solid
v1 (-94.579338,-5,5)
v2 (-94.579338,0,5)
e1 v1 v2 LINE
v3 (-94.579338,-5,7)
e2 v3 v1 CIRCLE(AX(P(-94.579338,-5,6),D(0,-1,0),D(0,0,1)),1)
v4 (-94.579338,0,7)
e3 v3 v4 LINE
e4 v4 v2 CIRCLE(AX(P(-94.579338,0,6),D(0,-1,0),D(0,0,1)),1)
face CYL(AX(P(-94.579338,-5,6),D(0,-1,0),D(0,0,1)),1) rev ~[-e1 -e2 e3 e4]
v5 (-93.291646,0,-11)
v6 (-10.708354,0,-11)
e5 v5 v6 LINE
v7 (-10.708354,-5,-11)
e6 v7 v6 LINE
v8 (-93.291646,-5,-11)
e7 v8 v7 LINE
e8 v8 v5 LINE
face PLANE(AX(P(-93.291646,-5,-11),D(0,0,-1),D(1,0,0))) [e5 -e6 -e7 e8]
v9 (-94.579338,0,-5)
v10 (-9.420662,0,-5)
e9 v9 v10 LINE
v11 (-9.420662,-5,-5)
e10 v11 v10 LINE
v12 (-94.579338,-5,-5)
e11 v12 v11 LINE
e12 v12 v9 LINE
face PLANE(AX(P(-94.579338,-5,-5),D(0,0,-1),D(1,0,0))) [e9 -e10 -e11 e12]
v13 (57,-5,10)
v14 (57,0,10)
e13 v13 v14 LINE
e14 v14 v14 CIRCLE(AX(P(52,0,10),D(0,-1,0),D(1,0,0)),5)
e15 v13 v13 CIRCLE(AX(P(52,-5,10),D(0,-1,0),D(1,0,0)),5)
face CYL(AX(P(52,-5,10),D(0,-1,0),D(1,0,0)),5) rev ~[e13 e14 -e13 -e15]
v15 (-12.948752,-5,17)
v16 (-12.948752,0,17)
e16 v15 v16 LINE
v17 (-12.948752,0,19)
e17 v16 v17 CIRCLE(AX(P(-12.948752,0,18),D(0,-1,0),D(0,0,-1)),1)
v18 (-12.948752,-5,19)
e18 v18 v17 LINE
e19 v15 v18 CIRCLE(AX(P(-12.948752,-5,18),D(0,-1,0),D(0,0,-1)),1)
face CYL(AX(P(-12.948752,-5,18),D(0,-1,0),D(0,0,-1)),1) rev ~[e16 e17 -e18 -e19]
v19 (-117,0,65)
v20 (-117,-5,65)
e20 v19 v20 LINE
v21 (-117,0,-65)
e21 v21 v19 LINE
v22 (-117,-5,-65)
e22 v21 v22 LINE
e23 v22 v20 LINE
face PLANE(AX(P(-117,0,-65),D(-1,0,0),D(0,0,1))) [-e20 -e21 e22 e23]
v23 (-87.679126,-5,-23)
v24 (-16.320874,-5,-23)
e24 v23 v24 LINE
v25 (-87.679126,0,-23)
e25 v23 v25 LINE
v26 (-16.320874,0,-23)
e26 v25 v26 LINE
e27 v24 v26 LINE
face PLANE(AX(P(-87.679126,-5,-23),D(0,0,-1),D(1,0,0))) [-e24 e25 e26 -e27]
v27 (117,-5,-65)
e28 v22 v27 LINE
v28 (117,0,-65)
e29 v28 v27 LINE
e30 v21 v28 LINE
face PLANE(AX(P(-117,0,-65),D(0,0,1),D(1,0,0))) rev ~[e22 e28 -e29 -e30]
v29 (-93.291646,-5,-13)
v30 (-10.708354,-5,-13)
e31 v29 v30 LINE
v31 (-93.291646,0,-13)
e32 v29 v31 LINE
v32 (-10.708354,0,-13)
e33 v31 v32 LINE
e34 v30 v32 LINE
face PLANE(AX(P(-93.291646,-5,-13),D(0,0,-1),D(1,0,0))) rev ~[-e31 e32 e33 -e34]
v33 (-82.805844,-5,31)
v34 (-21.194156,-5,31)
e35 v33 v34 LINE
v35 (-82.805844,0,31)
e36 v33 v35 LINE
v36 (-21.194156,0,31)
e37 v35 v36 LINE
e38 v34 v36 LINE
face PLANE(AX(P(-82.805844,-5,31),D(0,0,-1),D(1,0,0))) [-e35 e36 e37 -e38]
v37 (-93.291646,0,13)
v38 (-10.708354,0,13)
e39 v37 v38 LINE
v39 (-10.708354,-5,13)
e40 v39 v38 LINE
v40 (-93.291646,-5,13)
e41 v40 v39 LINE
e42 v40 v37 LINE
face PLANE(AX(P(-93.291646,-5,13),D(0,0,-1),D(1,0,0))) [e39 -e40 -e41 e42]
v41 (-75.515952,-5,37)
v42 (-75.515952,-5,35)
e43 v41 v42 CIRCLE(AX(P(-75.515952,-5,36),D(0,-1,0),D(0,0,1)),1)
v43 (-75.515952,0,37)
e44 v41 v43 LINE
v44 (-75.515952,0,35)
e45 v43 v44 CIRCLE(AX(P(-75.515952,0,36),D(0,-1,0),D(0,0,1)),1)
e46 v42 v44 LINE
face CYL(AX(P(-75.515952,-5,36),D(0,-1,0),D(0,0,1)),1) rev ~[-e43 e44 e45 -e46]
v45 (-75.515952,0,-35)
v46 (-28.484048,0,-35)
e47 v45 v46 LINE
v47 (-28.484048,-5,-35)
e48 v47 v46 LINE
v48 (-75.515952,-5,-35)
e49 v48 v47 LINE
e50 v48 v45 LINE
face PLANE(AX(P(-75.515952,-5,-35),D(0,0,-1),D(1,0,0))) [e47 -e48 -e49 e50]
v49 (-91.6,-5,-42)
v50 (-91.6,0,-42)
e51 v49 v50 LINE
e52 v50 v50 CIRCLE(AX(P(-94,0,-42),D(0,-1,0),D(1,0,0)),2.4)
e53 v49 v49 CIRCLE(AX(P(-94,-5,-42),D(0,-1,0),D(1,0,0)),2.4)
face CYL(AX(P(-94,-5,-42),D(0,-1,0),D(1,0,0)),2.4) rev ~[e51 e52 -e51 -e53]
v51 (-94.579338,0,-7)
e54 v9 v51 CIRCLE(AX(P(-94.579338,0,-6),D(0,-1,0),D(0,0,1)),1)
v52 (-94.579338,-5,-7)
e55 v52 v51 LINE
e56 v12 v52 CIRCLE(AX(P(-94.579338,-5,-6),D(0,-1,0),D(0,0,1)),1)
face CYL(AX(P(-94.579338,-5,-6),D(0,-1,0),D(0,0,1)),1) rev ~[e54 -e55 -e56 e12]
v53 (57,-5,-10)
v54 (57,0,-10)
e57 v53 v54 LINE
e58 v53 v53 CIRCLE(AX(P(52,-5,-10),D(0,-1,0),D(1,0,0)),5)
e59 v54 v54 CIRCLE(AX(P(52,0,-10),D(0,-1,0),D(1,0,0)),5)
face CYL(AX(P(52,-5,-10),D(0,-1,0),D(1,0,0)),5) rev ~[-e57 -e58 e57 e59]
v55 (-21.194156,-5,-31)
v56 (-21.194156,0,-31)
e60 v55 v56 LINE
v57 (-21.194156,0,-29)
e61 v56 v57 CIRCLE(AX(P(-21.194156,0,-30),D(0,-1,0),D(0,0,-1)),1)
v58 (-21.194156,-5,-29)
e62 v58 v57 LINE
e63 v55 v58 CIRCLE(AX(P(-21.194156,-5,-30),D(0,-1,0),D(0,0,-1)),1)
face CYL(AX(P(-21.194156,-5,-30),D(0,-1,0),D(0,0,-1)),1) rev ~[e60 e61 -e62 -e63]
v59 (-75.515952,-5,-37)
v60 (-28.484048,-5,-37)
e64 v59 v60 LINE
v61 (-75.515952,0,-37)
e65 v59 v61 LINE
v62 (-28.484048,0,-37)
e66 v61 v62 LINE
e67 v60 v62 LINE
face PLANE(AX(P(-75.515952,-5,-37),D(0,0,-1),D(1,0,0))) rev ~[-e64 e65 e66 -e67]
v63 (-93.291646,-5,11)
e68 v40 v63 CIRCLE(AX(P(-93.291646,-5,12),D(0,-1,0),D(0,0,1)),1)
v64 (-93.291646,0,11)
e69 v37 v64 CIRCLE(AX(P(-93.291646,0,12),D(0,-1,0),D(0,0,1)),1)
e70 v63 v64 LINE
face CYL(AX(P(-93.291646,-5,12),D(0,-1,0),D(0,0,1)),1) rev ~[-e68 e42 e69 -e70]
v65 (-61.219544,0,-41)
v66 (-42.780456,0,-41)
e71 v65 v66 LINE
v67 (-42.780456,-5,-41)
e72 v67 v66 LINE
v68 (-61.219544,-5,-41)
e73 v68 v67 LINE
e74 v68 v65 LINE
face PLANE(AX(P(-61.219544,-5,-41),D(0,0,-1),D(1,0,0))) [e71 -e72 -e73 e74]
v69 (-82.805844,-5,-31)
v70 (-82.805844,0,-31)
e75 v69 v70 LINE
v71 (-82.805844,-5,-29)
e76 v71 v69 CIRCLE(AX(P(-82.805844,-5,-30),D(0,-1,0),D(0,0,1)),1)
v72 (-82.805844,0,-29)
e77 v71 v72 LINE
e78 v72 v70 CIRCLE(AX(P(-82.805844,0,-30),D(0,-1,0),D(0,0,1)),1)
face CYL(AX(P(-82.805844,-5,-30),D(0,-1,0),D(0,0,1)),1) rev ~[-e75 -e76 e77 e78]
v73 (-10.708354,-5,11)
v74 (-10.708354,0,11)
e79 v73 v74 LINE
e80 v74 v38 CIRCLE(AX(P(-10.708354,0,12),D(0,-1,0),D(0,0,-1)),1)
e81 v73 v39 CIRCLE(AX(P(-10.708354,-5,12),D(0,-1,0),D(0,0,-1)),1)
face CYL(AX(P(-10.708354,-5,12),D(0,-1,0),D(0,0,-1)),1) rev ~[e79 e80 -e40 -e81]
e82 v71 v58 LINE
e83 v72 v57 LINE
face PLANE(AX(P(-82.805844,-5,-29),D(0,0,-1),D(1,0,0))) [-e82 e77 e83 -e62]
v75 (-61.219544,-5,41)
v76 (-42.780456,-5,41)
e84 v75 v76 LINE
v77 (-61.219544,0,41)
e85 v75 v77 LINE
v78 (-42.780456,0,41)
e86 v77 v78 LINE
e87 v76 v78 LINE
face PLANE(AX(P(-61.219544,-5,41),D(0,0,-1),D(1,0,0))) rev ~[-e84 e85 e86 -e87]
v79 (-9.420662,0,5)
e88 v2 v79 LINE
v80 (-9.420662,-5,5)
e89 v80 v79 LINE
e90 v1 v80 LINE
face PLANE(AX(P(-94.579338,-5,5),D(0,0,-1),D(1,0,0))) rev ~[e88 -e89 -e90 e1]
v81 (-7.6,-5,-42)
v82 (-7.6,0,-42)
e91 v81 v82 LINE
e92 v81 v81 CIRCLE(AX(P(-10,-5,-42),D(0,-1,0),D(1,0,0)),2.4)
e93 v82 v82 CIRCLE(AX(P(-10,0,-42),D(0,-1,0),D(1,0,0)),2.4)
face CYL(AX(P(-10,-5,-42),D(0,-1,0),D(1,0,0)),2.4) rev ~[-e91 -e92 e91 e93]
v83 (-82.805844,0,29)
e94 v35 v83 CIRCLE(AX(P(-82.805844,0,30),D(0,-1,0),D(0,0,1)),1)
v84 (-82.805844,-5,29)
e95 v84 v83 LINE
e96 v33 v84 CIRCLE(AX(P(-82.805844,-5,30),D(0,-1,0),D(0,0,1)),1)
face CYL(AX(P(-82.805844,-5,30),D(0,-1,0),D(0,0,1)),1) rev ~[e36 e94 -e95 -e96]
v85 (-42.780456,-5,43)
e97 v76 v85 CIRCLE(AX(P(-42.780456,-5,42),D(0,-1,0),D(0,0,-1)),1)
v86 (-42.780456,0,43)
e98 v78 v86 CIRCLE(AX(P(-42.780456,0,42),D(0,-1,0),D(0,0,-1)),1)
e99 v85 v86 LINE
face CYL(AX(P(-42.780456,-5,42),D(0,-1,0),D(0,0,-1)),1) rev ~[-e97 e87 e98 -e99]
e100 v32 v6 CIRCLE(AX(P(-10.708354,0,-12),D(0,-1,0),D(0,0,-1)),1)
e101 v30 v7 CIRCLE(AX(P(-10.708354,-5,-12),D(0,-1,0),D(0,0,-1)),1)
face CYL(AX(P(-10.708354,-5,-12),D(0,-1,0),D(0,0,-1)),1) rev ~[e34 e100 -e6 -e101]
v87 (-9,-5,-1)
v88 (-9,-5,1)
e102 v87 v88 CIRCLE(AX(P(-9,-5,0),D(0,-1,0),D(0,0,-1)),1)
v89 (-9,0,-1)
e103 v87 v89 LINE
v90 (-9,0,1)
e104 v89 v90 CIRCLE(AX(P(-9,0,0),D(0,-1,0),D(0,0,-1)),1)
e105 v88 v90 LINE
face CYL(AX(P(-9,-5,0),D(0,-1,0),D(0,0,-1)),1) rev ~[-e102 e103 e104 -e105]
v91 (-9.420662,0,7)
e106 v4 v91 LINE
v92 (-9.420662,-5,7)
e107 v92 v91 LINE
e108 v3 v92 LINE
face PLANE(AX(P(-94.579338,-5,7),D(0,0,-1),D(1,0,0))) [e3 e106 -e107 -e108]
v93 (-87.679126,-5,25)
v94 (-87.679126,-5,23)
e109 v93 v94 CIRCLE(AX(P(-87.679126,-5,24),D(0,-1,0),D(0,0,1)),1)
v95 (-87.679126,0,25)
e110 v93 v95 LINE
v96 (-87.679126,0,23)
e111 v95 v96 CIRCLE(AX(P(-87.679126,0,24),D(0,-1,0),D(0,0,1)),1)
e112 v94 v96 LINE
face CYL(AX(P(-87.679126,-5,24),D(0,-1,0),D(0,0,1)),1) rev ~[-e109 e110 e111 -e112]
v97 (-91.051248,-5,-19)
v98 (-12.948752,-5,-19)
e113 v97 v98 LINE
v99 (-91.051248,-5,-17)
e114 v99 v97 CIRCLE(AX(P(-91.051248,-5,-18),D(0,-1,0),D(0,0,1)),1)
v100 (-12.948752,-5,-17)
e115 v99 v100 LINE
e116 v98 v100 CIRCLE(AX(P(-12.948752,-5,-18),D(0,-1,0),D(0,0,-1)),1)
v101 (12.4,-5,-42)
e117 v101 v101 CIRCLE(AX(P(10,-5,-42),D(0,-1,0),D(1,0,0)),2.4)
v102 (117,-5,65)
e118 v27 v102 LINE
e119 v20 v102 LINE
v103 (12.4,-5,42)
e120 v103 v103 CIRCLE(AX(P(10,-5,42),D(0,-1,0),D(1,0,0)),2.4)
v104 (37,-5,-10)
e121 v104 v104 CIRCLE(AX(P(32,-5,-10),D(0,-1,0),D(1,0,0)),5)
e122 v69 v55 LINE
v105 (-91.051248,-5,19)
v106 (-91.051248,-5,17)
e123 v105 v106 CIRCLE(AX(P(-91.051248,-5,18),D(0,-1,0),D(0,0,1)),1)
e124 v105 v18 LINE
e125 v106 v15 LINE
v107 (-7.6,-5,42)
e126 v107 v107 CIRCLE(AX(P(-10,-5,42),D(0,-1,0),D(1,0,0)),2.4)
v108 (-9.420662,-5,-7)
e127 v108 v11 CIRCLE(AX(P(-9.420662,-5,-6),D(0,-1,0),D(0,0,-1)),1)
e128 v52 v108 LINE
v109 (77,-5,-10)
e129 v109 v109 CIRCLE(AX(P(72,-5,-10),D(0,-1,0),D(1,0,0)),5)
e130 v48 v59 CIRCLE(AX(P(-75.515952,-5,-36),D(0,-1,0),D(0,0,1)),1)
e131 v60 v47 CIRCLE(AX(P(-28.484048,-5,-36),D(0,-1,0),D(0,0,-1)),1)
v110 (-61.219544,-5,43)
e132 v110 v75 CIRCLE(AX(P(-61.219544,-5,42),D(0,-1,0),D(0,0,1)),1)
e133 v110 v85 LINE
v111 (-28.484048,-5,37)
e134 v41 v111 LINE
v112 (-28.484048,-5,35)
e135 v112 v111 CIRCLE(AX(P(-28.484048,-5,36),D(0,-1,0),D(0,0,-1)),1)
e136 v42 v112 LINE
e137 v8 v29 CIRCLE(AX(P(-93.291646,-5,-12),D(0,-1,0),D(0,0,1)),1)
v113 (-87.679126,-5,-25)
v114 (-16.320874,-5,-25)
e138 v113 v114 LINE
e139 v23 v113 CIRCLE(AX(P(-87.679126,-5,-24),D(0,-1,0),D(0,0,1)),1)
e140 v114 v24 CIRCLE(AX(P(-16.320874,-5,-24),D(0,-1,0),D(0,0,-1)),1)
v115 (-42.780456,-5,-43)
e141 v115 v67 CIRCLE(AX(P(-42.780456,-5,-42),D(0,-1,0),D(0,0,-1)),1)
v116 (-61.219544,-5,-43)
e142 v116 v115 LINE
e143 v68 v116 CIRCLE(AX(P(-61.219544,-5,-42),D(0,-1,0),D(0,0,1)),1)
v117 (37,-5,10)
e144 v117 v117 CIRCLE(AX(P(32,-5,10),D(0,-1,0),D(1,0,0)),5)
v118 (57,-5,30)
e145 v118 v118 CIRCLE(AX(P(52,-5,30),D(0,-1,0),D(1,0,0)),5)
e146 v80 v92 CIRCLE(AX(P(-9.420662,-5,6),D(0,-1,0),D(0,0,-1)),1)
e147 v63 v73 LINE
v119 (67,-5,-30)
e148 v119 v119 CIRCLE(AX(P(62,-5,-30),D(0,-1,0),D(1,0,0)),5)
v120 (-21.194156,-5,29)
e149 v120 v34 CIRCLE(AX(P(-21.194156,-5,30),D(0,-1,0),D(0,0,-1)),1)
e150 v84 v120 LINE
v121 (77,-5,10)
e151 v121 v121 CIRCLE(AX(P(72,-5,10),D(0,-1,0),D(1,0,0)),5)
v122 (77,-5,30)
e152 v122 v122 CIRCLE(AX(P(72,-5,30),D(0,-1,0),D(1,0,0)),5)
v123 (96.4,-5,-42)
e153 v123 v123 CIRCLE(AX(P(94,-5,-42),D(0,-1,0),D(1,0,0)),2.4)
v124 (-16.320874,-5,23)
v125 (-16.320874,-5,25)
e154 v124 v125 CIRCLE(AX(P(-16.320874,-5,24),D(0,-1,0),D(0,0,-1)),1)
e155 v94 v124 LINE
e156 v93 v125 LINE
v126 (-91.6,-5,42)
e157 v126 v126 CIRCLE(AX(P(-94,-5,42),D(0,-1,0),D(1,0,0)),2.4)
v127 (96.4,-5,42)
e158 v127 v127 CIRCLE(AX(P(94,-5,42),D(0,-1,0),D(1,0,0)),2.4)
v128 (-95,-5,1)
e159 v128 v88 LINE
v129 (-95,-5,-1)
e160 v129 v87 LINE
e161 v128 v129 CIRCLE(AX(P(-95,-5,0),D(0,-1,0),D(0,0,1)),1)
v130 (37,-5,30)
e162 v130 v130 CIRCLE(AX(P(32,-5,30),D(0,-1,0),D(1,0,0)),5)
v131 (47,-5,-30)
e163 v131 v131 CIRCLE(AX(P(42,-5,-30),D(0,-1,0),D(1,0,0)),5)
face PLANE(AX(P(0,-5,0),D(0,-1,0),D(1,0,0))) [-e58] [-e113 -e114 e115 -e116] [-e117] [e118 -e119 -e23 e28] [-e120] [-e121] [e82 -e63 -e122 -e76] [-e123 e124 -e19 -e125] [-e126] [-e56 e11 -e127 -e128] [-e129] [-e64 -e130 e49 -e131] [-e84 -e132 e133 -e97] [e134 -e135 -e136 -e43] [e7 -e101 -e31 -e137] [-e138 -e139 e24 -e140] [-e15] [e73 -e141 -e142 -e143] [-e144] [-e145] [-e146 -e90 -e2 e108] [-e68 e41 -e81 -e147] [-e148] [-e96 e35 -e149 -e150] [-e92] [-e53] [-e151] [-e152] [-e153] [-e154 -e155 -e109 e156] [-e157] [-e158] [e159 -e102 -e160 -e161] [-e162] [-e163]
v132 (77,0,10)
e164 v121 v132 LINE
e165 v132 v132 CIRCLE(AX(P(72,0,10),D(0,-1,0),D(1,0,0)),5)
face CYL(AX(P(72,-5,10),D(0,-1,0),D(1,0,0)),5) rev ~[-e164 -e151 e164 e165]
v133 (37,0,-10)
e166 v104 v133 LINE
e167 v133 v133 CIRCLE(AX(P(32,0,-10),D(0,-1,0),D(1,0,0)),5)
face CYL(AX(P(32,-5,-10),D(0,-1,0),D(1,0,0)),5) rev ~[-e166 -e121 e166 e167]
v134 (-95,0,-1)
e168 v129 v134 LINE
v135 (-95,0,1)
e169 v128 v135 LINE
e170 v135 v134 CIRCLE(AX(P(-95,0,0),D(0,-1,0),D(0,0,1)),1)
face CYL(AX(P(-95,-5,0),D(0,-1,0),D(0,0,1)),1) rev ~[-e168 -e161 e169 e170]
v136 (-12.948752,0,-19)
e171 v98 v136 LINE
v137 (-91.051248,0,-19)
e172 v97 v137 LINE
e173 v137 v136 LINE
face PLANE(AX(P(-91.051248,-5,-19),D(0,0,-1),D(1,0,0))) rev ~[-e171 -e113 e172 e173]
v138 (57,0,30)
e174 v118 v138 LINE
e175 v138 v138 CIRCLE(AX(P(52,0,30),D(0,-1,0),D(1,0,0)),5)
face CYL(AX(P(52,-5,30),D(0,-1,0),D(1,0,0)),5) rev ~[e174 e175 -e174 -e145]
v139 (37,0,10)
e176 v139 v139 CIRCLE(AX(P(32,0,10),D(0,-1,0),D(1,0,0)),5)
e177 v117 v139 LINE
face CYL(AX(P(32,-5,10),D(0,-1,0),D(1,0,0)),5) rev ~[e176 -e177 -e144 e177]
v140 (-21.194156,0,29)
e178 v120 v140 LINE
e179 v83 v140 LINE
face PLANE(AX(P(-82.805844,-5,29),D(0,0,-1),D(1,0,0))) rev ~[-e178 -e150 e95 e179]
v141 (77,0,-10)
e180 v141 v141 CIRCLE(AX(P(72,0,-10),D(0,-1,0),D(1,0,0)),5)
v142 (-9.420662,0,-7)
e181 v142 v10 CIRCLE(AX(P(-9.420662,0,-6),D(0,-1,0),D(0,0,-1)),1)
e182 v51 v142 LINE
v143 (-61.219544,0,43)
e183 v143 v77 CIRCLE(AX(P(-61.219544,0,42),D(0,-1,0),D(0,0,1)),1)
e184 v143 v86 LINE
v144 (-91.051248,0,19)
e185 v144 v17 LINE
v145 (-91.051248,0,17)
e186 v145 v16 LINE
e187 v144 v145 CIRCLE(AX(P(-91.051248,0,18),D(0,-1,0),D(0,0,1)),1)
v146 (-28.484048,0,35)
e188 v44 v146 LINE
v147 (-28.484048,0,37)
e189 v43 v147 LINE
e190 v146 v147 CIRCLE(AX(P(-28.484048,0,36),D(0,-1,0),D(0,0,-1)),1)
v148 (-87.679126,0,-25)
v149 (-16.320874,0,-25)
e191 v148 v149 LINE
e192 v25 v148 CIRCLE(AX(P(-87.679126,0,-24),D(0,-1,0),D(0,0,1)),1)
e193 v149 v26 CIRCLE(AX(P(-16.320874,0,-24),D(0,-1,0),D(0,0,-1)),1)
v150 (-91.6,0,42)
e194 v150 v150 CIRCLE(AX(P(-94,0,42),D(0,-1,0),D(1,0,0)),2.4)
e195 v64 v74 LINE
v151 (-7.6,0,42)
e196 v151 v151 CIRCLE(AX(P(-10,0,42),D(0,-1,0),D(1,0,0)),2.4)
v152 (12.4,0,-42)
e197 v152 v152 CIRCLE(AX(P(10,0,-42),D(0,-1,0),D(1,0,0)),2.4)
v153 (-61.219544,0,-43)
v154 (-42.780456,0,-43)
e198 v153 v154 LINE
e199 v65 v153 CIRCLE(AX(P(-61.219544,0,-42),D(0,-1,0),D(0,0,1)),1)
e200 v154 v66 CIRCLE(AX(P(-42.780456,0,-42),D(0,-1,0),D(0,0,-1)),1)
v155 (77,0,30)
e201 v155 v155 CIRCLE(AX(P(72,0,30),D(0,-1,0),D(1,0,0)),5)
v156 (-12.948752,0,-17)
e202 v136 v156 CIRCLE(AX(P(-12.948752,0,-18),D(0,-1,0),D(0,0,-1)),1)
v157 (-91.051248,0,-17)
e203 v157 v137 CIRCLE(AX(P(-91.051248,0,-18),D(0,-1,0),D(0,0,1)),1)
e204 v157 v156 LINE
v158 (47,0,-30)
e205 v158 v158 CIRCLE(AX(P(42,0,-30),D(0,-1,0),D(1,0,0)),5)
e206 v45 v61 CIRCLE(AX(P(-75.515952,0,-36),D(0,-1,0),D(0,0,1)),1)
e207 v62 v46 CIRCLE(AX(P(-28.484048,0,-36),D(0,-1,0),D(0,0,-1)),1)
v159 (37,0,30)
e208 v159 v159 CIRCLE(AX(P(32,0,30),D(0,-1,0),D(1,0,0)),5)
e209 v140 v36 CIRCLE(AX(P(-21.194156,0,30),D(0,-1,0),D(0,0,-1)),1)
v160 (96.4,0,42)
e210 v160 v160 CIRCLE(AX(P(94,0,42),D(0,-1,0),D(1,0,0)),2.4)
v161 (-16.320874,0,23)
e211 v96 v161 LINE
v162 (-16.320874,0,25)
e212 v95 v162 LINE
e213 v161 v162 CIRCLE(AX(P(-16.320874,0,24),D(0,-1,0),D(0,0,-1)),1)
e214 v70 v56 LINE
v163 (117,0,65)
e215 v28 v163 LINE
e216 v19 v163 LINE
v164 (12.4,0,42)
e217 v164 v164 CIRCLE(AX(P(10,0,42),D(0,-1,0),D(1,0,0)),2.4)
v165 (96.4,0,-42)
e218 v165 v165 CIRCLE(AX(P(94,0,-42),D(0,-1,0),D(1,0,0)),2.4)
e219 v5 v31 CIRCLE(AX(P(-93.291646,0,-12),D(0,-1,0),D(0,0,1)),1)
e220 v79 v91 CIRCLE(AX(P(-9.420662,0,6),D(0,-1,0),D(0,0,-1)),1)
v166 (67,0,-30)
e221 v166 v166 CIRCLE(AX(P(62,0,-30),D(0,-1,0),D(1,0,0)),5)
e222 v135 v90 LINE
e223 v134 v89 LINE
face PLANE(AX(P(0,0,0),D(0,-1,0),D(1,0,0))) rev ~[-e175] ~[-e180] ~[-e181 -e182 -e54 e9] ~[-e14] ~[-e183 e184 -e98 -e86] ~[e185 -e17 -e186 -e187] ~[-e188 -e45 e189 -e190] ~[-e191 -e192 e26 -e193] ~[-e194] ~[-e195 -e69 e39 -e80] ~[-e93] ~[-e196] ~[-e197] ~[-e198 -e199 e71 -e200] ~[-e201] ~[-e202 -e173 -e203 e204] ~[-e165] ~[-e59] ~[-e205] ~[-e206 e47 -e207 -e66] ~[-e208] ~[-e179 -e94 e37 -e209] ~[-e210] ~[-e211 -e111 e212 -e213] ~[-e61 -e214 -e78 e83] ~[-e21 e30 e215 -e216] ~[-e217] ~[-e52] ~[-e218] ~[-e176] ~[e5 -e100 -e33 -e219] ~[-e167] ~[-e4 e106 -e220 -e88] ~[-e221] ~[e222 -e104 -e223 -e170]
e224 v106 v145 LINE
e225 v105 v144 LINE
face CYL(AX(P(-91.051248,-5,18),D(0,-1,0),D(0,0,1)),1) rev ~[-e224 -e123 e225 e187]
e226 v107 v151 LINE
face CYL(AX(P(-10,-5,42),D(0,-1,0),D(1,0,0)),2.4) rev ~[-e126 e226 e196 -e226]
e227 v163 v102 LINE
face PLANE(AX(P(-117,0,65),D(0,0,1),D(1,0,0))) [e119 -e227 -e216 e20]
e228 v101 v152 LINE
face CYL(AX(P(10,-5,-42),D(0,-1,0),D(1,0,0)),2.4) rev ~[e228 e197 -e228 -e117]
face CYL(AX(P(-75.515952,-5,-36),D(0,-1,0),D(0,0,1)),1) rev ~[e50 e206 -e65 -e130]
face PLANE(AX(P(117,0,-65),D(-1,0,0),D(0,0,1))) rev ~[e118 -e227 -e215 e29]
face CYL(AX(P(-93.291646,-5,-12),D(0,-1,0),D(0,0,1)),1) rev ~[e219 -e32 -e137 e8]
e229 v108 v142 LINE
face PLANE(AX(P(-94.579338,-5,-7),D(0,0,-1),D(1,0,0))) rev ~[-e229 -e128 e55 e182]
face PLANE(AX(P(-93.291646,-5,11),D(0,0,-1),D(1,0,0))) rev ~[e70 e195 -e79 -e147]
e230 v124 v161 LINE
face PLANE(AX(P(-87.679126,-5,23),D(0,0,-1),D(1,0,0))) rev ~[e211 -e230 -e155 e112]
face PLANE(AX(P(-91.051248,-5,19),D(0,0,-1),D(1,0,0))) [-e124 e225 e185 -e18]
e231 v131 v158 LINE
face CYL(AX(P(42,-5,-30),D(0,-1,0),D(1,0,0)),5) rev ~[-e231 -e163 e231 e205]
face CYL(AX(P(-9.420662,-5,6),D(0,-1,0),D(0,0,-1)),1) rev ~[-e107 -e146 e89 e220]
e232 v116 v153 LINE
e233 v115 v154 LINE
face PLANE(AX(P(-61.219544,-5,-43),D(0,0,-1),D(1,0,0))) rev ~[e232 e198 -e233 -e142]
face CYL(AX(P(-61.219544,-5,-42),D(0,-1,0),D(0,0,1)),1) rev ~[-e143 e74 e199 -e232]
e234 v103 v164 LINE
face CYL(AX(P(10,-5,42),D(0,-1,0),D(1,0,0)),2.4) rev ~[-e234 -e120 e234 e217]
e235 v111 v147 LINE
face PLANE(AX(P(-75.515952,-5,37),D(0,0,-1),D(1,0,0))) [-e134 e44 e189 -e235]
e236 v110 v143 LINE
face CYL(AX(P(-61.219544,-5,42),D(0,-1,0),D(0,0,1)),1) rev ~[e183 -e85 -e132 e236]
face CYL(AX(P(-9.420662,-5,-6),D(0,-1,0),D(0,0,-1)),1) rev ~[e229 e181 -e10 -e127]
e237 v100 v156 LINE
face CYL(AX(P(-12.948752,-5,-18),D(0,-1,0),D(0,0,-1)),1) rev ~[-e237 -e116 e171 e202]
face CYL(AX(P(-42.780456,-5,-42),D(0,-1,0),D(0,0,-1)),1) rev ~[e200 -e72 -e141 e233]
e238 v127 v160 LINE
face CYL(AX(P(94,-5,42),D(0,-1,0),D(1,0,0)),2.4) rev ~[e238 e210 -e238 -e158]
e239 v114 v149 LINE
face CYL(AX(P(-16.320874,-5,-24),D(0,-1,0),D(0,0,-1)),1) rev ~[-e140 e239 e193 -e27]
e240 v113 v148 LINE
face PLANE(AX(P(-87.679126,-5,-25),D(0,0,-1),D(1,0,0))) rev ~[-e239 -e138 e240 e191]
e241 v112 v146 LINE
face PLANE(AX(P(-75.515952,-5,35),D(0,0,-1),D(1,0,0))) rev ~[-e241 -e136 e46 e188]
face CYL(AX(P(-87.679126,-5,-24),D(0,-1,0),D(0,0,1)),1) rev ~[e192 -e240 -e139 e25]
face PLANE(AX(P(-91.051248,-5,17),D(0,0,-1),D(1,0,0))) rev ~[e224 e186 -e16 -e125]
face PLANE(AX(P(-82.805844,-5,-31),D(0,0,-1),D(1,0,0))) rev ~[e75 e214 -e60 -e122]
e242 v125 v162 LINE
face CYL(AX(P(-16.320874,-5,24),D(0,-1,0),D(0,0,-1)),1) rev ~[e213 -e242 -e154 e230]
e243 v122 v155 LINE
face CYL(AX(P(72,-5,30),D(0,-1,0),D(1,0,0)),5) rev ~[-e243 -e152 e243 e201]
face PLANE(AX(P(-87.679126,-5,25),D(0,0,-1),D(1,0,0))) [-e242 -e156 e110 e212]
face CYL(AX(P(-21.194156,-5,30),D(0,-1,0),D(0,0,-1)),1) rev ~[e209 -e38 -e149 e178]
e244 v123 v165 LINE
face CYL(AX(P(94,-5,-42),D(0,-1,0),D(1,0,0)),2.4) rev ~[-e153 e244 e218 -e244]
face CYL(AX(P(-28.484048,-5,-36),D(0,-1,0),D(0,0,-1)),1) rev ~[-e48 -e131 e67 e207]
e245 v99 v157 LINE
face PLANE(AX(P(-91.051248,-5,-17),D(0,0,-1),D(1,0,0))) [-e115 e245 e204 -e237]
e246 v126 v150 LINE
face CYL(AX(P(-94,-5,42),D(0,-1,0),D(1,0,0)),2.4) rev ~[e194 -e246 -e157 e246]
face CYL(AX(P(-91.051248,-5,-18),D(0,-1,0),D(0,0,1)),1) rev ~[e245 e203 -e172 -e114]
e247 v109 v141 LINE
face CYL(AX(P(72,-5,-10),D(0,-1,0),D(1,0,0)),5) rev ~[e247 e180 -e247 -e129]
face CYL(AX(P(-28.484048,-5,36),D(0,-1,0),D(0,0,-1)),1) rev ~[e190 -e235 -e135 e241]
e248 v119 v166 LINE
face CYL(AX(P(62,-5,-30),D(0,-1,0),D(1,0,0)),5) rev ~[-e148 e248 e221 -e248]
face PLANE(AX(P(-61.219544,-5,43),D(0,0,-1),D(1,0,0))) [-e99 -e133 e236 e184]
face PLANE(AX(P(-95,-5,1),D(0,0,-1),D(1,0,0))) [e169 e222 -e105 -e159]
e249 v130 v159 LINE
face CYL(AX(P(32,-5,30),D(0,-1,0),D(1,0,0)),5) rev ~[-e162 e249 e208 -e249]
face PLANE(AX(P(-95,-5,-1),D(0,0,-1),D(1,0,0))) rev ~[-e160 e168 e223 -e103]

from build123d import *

# Parameters (mm, degrees)
SKETCH_W      = 234
SKETCH_H      = 130
PAD_DEPTH     = 5
SKETCH002_R   = 2.4
SKETCH002_R_2 = 5
POCKET_DEPTH  = 5


with BuildPart() as part:
    # Sketch → Pad (new body)
    with BuildSketch(Plane.XZ):
        Rectangle(SKETCH_W, SKETCH_H)
    extrude(amount=PAD_DEPTH)

    # Sketch002 → Pocket (cut)
    with BuildSketch(Plane.XZ.offset(5)):
        with Locations((-94, 42)):
            Circle(SKETCH002_R)
        with Locations((-10, 42)):
            Circle(SKETCH002_R)
        with Locations((-10, -42)):
            Circle(SKETCH002_R)
        with Locations((-94, -42)):
            Circle(SKETCH002_R)
        with Locations((94, 42)):
            Circle(SKETCH002_R)
        with Locations((10, 42)):
            Circle(SKETCH002_R)
        with Locations((94, -42)):
            Circle(SKETCH002_R)
        with Locations((10, -42)):
            Circle(SKETCH002_R)
        with Locations((32, 30)):
            Circle(SKETCH002_R_2)
        with Locations((52, 30)):
            Circle(SKETCH002_R_2)
        with Locations((72, 30)):
            Circle(SKETCH002_R_2)
        with Locations((32, 10)):
            Circle(SKETCH002_R_2)
        with Locations((52, 10)):
            Circle(SKETCH002_R_2)
        with Locations((72, 10)):
            Circle(SKETCH002_R_2)
        with Locations((72, -10)):
            Circle(SKETCH002_R_2)
        with Locations((52, -10)):
            Circle(SKETCH002_R_2)
        with Locations((32, -10)):
            Circle(SKETCH002_R_2)
        with Locations((42, -30)):
            Circle(SKETCH002_R_2)
        with Locations((62, -30)):
            Circle(SKETCH002_R_2)
        with BuildLine():
            ThreePointArc((-93.291646, 13), (-94.291646, 12), (-93.291646, 11))
            Line((-93.291646, 11), (-10.708354, 11))
            ThreePointArc((-10.708354, 11), (-9.708354, 12), (-10.708354, 13))
            Line((-93.291646, 13), (-10.708354, 13))
        make_face()
        with BuildLine():
            ThreePointArc((-75.515952, 37), (-76.515952, 36), (-75.515952, 35))
            Line((-75.515952, 35), (-28.484048, 35))
            ThreePointArc((-28.484048, 35), (-27.484048, 36), (-28.484048, 37))
            Line((-75.515952, 37), (-28.484048, 37))
        make_face()
        with BuildLine():
            ThreePointArc((-82.805844, 31), (-83.805844, 30), (-82.805844, 29))
            Line((-82.805844, 29), (-21.194156, 29))
            ThreePointArc((-21.194156, 29), (-20.194156, 30), (-21.194156, 31))
            Line((-82.805844, 31), (-21.194156, 31))
        make_face()
        with BuildLine():
            ThreePointArc((-87.679126, 25), (-88.679126, 24), (-87.679126, 23))
            Line((-87.679126, 23), (-16.320874, 23))
            ThreePointArc((-16.320874, 23), (-15.320874, 24), (-16.320874, 25))
            Line((-87.679126, 25), (-16.320874, 25))
        make_face()
        with BuildLine():
            ThreePointArc((-91.051248, 19), (-92.051248, 18), (-91.051248, 17))
            Line((-91.051248, 17), (-12.948752, 17))
            ThreePointArc((-12.948752, 17), (-11.948752, 18), (-12.948752, 19))
            Line((-91.051248, 19), (-12.948752, 19))
        make_face()
        with BuildLine():
            ThreePointArc((-95, 1), (-96, 0), (-95, -1))
            Line((-95, -1), (-9, -1))
            ThreePointArc((-9, -1), (-8, 0), (-9, 1))
            Line((-95, 1), (-9, 1))
        make_face()
        with BuildLine():
            ThreePointArc((-94.579338, 7), (-95.579338, 6), (-94.579338, 5))
            Line((-94.579338, 5), (-9.420662, 5))
            ThreePointArc((-9.420662, 5), (-8.420662, 6), (-9.420662, 7))
            Line((-94.579338, 7), (-9.420662, 7))
        make_face()
        with BuildLine():
            ThreePointArc((-61.219544, 43), (-62.219544, 42), (-61.219544, 41))
            Line((-61.219544, 41), (-42.780456, 41))
            ThreePointArc((-42.780456, 41), (-41.780456, 42), (-42.780456, 43))
            Line((-61.219544, 43), (-42.780456, 43))
        make_face()
        with BuildLine():
            ThreePointArc((-61.219544, -41), (-62.219544, -42), (-61.219544, -43))
            Line((-61.219544, -43), (-42.780456, -43))
            ThreePointArc((-42.780456, -43), (-41.780456, -42), (-42.780456, -41))
            Line((-61.219544, -41), (-42.780456, -41))
        make_face()
        with BuildLine():
            ThreePointArc((-75.515952, -35), (-76.515952, -36), (-75.515952, -37))
            Line((-75.515952, -37), (-28.484048, -37))
            ThreePointArc((-28.484048, -37), (-27.484048, -36), (-28.484048, -35))
            Line((-75.515952, -35), (-28.484048, -35))
        make_face()
        with BuildLine():
            ThreePointArc((-82.805844, -29), (-83.805844, -30), (-82.805844, -31))
            Line((-82.805844, -31), (-21.194156, -31))
            ThreePointArc((-21.194156, -31), (-20.194156, -30), (-21.194156, -29))
            Line((-82.805844, -29), (-21.194156, -29))
        make_face()
        with BuildLine():
            ThreePointArc((-87.679126, -23), (-88.679126, -24), (-87.679126, -25))
            Line((-87.679126, -25), (-16.320874, -25))
            ThreePointArc((-16.320874, -25), (-15.320874, -24), (-16.320874, -23))
            Line((-87.679126, -23), (-16.320874, -23))
        make_face()
        with BuildLine():
            ThreePointArc((-91.051248, -17), (-92.051248, -18), (-91.051248, -19))
            Line((-91.051248, -19), (-12.948752, -19))
            ThreePointArc((-12.948752, -19), (-11.948752, -18), (-12.948752, -17))
            Line((-91.051248, -17), (-12.948752, -17))
        make_face()
        with BuildLine():
            ThreePointArc((-93.291646, -11), (-94.291646, -12), (-93.291646, -13))
            Line((-93.291646, -13), (-10.708354, -13))
            ThreePointArc((-10.708354, -13), (-9.708354, -12), (-10.708354, -11))
            Line((-93.291646, -11), (-10.708354, -11))
        make_face()
        with BuildLine():
            ThreePointArc((-94.579338, -5), (-95.579338, -6), (-94.579338, -7))
            Line((-94.579338, -7), (-9.420662, -7))
            ThreePointArc((-9.420662, -7), (-8.420662, -6), (-9.420662, -5))
            Line((-94.579338, -5), (-9.420662, -5))
        make_face()
    extrude(amount=-POCKET_DEPTH, mode=Mode.SUBTRACT)


solid = part.part
